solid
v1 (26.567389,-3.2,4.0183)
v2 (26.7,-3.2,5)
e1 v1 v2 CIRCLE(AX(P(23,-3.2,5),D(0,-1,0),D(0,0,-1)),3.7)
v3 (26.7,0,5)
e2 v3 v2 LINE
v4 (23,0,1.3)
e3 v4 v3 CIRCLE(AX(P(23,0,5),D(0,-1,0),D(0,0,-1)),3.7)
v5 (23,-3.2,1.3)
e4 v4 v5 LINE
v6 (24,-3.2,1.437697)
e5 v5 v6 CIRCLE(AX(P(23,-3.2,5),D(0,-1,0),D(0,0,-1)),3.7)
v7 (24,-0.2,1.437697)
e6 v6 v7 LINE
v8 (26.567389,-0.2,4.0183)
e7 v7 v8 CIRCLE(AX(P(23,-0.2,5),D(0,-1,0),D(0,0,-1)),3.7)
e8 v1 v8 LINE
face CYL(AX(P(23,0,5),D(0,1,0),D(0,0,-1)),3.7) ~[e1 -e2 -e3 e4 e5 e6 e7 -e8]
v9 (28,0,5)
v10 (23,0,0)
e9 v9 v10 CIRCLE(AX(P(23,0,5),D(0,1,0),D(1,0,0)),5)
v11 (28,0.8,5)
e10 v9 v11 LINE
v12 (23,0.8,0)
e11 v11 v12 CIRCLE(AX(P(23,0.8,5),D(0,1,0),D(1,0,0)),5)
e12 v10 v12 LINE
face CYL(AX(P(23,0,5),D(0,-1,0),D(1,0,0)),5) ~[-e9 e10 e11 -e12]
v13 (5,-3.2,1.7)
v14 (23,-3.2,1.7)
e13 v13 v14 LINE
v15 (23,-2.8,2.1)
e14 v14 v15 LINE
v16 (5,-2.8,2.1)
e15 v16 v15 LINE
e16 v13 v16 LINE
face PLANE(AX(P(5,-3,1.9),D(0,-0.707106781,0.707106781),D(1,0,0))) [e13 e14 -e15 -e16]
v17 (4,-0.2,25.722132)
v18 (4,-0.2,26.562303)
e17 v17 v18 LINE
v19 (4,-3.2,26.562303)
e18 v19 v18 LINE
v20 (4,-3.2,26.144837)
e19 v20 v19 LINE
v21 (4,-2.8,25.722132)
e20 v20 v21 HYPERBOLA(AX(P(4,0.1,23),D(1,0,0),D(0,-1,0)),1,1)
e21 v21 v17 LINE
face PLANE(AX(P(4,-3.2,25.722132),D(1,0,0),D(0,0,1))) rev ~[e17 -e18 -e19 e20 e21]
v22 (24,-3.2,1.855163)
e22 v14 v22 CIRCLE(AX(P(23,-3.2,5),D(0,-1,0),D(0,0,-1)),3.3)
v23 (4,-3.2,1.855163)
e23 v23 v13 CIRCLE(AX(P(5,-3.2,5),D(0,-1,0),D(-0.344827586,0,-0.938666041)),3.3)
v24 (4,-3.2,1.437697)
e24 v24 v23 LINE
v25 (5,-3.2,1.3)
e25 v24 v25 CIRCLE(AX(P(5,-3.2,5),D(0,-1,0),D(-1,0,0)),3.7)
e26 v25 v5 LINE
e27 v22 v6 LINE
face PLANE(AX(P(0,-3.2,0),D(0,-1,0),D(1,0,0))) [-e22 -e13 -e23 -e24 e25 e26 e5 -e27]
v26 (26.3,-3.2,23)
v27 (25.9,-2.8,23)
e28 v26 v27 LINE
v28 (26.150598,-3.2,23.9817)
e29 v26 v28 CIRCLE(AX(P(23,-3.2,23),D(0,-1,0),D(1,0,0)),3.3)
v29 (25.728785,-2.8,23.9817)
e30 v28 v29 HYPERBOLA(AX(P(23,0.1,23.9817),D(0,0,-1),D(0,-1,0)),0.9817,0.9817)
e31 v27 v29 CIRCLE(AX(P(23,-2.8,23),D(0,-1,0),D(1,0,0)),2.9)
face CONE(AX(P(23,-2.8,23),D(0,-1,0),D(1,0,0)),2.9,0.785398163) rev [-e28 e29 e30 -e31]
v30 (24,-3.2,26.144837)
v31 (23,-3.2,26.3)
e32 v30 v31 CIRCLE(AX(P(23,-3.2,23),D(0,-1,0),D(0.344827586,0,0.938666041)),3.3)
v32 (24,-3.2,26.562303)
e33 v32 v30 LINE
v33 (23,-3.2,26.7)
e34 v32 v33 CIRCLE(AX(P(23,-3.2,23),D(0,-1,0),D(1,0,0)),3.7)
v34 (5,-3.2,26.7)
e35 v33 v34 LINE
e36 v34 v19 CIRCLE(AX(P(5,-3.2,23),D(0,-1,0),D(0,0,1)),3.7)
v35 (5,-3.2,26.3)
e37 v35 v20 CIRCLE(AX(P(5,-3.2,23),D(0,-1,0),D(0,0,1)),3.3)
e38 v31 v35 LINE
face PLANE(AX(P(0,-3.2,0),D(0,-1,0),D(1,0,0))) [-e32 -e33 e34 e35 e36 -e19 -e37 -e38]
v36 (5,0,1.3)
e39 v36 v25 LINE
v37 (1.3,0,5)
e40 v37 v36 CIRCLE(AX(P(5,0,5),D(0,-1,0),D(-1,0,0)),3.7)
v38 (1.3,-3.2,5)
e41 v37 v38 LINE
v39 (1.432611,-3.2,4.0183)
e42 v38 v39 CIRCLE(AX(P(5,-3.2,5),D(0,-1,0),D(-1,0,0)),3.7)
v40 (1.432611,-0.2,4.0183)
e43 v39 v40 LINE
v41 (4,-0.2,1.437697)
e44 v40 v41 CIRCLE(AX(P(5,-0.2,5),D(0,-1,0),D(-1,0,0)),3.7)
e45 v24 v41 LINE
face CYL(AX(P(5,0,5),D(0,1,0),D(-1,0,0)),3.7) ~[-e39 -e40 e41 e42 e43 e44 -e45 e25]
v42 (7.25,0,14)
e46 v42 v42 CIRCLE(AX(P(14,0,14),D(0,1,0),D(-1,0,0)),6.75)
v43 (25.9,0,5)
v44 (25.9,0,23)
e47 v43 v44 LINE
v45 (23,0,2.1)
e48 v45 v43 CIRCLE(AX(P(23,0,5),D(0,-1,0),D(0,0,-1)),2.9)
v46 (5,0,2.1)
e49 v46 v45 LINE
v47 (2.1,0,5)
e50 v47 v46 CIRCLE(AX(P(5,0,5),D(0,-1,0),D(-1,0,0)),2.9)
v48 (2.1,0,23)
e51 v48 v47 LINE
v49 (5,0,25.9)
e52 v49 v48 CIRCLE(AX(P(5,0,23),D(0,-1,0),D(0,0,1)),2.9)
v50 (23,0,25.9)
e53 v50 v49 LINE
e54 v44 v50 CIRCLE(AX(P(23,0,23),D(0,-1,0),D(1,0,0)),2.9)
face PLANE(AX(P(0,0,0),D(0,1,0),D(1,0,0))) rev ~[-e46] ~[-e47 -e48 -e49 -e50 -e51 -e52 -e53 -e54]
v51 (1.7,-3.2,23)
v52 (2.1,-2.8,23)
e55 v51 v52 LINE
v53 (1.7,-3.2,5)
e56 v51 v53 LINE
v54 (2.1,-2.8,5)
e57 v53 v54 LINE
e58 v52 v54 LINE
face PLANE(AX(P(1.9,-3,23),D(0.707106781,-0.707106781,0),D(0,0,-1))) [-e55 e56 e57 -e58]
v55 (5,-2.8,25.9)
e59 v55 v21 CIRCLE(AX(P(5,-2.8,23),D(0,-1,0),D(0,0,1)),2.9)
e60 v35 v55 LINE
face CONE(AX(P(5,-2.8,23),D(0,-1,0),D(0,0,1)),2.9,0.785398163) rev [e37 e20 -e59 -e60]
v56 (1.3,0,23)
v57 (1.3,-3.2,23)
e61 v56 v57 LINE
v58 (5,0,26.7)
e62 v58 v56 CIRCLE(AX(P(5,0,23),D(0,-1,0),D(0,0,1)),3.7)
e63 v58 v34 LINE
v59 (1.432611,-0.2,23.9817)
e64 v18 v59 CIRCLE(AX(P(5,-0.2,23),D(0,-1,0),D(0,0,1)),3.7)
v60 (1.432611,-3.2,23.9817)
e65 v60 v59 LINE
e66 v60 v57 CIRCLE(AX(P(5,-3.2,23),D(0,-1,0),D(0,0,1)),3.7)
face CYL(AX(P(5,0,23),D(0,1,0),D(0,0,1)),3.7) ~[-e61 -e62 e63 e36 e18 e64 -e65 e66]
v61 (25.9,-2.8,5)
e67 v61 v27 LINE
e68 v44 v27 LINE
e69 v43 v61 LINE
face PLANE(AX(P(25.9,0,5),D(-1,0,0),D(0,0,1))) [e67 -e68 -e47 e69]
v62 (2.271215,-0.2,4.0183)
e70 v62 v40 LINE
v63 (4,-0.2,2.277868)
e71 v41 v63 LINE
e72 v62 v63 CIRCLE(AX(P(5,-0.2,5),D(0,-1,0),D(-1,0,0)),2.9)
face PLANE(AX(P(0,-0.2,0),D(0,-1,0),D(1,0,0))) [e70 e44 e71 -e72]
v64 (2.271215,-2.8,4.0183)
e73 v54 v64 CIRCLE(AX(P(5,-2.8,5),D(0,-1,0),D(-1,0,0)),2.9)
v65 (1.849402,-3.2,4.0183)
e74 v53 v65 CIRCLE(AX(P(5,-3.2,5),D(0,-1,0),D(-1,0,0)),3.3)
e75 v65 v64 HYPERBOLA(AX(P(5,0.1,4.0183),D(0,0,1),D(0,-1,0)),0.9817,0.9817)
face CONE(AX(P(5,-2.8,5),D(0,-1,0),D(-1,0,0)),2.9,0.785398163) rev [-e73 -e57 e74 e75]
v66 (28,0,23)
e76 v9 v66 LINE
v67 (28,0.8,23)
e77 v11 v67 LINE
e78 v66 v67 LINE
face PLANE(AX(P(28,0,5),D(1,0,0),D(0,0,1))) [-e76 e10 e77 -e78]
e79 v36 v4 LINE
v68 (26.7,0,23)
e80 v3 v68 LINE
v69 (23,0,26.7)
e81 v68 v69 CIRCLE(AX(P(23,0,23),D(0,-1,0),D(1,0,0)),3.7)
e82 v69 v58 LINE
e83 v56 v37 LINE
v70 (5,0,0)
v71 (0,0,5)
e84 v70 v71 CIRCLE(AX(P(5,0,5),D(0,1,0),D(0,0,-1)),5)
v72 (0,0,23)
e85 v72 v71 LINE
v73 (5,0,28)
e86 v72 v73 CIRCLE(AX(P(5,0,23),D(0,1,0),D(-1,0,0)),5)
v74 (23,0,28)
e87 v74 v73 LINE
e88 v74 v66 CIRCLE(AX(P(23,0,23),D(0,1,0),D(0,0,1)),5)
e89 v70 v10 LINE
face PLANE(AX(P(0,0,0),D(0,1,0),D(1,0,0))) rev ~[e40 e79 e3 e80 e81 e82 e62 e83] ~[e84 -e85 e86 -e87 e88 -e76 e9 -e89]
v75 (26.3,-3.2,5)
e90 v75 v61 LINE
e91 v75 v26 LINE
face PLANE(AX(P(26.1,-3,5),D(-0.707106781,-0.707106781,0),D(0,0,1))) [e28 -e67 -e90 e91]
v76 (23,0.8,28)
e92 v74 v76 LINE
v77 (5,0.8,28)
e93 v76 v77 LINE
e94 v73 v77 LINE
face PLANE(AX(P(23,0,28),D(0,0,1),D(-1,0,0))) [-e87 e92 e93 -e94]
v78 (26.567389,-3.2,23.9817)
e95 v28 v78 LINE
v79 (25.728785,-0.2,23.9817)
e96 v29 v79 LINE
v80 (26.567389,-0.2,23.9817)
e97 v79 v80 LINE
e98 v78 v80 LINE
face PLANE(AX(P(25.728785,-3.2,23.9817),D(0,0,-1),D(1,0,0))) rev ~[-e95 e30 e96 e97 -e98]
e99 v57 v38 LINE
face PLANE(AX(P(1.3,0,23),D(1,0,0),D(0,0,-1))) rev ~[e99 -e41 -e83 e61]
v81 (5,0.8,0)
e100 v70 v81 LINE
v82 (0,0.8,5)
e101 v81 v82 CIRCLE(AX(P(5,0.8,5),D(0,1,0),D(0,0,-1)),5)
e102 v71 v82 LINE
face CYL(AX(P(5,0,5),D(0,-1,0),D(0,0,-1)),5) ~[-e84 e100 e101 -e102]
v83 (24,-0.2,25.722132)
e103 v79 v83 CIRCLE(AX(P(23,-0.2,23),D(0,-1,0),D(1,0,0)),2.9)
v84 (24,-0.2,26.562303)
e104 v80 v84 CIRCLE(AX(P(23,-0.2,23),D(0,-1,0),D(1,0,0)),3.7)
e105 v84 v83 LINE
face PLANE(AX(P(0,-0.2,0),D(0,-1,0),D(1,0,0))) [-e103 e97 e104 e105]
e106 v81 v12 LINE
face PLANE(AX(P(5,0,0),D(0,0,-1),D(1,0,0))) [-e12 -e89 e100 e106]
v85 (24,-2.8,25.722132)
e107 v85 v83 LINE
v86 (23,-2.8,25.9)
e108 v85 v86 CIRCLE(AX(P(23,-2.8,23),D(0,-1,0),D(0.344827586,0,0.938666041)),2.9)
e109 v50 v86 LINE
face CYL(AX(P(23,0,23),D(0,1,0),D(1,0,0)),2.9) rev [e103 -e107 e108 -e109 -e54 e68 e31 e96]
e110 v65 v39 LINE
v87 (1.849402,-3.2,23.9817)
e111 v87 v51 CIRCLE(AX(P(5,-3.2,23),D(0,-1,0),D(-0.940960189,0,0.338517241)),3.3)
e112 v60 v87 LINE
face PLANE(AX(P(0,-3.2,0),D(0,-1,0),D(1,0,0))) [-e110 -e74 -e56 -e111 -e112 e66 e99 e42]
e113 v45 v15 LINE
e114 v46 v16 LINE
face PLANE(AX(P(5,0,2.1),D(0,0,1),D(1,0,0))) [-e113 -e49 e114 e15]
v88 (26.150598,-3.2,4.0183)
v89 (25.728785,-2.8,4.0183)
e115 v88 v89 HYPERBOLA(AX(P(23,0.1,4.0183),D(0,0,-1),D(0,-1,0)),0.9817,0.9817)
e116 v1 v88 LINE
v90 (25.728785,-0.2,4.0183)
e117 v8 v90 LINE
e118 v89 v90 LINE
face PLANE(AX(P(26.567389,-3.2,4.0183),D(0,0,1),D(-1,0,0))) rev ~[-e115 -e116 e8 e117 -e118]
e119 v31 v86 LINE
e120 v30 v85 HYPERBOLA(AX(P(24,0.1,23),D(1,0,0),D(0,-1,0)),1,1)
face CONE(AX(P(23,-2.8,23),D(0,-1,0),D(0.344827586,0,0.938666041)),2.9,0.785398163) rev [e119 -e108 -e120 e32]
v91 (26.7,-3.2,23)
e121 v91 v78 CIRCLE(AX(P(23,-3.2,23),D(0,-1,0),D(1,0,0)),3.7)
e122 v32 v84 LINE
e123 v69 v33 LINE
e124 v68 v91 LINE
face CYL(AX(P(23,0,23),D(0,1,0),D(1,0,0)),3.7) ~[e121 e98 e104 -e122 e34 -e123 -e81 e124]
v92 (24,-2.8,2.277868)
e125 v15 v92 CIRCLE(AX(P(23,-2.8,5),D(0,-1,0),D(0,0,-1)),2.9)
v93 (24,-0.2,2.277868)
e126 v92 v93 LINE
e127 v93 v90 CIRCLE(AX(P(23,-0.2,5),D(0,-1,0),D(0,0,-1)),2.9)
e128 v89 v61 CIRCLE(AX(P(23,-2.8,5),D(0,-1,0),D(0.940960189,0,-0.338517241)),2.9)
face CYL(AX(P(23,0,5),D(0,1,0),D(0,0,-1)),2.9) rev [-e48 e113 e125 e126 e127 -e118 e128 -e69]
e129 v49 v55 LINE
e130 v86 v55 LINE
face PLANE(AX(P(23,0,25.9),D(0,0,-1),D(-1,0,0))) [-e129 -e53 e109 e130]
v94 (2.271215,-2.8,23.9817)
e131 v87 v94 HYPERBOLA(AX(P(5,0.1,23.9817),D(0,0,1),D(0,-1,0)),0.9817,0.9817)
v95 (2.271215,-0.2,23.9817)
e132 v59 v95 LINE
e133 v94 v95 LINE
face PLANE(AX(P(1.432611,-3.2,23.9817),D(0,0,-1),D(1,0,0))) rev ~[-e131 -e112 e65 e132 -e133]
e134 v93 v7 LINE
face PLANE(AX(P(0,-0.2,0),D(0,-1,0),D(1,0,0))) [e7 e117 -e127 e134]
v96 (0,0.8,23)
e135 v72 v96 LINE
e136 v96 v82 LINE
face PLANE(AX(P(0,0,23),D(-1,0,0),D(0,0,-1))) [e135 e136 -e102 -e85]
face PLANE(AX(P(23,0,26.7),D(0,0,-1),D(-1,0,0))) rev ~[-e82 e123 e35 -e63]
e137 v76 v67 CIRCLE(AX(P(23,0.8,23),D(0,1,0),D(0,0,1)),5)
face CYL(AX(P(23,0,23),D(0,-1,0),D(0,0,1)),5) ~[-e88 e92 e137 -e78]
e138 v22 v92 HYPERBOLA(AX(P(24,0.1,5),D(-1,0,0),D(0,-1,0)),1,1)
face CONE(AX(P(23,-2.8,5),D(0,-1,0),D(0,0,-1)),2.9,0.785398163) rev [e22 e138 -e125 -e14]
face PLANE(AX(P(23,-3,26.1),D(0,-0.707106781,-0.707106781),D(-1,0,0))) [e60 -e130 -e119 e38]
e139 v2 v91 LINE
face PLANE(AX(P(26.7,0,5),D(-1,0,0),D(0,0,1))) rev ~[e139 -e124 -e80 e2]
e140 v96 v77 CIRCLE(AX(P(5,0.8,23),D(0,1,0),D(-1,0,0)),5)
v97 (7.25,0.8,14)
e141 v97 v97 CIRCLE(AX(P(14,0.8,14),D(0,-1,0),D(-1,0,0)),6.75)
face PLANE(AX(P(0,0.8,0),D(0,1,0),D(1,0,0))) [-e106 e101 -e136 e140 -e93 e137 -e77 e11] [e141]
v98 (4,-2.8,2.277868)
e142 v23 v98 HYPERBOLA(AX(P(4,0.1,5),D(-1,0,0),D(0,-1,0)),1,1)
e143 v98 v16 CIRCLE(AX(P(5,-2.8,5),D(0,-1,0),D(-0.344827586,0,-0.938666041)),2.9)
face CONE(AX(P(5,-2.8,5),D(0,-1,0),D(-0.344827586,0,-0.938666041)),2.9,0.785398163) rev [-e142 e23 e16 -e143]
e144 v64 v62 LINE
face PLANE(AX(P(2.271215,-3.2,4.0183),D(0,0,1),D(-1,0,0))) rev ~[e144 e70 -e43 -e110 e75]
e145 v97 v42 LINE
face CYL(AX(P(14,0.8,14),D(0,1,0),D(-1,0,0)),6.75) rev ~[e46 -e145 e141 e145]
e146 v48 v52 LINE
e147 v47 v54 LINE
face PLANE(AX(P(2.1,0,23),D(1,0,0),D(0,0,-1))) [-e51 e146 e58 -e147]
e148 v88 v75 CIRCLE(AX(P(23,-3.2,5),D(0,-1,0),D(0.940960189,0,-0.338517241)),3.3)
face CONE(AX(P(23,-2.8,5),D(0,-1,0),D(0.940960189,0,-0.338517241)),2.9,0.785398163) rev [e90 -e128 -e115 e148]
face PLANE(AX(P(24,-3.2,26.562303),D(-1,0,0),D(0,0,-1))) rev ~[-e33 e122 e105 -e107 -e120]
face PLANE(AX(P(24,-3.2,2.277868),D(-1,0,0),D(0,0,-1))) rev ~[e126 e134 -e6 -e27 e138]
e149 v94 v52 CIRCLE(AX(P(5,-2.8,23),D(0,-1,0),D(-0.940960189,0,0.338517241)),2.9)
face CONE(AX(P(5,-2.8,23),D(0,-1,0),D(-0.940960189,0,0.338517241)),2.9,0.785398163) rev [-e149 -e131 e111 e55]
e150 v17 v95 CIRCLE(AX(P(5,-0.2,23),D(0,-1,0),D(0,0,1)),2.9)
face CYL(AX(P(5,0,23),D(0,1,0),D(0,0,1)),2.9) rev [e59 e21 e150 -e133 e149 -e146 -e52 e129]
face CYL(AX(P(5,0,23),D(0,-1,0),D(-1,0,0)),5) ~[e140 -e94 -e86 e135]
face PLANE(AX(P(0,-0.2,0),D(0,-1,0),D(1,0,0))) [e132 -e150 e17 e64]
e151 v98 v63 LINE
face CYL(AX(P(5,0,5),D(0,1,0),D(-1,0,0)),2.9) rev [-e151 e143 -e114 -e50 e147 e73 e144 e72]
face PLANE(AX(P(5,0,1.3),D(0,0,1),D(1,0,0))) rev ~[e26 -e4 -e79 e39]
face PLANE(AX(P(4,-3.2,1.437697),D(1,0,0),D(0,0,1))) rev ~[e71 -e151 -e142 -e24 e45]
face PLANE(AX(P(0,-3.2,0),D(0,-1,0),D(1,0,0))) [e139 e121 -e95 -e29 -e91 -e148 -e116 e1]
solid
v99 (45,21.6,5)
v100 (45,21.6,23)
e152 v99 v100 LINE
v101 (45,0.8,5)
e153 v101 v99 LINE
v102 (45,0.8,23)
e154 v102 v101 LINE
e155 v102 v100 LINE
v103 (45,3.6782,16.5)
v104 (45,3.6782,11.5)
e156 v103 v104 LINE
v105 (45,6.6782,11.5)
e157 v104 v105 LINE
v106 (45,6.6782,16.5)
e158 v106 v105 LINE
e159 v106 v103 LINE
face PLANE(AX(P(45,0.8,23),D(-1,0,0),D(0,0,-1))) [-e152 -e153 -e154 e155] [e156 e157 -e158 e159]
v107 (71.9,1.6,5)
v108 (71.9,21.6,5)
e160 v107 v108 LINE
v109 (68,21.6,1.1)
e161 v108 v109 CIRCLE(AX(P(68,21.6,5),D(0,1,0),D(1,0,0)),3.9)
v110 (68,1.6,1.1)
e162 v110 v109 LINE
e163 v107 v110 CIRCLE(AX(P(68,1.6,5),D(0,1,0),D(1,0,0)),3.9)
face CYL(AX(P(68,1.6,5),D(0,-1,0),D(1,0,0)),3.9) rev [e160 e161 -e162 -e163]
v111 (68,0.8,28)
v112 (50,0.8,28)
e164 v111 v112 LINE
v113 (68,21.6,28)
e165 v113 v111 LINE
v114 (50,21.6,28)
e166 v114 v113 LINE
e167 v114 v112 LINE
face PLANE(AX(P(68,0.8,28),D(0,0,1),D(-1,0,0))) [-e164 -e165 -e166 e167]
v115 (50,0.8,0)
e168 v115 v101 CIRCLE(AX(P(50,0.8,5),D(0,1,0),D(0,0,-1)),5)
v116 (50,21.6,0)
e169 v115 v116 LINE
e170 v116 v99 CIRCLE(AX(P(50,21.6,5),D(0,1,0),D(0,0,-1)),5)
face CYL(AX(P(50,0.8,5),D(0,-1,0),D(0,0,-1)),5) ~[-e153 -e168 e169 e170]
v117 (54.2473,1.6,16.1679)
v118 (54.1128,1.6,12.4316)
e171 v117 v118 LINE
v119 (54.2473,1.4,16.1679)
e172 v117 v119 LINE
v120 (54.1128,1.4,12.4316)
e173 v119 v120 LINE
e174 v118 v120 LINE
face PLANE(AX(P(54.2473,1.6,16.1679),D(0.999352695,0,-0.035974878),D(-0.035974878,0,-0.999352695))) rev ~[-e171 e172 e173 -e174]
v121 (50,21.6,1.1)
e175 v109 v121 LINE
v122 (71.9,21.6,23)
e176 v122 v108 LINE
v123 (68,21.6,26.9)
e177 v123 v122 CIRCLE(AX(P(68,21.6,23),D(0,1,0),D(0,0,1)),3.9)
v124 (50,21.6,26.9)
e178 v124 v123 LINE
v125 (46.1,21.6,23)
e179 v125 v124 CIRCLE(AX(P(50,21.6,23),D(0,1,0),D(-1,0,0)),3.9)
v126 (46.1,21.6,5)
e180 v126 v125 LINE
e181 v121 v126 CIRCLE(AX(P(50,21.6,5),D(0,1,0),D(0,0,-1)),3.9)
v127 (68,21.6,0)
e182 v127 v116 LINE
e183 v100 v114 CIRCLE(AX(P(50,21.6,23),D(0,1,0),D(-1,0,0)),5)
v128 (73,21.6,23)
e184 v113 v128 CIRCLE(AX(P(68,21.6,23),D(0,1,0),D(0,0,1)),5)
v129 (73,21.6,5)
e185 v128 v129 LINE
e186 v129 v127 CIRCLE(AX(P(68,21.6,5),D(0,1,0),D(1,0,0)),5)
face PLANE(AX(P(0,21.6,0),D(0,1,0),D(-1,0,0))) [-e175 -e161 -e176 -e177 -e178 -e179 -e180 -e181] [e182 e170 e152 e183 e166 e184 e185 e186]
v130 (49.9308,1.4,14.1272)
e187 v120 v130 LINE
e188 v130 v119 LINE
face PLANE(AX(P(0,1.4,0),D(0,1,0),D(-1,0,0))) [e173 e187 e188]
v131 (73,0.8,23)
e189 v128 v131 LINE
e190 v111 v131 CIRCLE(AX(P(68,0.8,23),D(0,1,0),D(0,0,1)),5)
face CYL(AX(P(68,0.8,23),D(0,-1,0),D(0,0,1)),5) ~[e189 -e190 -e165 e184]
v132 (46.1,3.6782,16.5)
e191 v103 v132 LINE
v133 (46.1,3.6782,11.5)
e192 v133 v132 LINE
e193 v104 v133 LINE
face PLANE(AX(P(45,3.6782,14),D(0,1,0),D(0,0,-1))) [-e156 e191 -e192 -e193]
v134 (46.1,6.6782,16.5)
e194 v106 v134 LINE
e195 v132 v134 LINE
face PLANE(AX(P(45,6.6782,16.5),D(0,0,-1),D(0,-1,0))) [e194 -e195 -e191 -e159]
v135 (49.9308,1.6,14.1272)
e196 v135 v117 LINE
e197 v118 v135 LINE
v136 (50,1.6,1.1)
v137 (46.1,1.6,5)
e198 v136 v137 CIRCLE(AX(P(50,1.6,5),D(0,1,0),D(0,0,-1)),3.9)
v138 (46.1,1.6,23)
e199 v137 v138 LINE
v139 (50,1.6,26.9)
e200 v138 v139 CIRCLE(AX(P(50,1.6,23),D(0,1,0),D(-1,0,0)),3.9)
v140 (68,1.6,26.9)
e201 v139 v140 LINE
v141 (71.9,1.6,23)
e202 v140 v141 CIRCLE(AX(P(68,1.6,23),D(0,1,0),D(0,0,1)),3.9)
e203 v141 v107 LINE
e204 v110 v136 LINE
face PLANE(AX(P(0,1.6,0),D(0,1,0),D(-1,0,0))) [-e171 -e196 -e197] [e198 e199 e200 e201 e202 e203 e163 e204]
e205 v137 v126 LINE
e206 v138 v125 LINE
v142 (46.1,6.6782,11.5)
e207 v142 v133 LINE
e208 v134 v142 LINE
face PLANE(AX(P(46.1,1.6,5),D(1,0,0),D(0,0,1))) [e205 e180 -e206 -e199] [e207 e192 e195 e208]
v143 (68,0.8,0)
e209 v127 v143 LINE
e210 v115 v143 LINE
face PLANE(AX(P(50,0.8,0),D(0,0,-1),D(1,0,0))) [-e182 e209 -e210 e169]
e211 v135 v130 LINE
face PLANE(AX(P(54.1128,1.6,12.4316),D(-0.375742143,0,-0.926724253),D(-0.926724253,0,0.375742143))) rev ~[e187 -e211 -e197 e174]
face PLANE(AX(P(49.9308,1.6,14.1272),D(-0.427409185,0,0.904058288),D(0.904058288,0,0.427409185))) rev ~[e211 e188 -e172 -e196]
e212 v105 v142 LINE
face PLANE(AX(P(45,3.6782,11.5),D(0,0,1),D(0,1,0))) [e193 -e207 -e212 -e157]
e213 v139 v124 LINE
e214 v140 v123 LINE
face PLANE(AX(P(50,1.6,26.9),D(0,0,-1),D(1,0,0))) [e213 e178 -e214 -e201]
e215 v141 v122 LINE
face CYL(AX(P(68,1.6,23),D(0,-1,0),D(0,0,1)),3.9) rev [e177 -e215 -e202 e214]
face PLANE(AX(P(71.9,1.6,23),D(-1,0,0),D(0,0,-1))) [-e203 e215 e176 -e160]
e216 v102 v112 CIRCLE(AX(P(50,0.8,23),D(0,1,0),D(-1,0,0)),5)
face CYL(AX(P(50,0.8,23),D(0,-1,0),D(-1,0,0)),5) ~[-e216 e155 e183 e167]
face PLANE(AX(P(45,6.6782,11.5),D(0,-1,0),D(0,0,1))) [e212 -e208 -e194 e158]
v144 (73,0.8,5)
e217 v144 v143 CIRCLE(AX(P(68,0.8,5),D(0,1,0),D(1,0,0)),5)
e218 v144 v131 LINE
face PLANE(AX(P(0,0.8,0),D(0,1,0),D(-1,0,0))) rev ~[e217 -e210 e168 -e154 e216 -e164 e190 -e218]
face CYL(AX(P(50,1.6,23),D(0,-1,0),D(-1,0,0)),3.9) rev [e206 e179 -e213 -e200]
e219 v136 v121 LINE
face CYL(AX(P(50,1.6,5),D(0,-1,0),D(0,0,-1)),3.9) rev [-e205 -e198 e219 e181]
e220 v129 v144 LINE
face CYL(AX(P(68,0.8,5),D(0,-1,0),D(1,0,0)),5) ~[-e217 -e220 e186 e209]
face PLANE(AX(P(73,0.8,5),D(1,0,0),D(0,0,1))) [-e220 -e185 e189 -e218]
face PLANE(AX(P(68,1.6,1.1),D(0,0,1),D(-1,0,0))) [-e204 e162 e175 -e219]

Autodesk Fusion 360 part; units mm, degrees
sketch "Sketch1" plane through (0, 0, 0) normal (0, 1, 0) x (1, 0, 0)
  line L0 (5, 0) -> (23, 0)
  line L1 (28, -5) -> (28, -23)
  line L2 (23, -28) -> (5, -28)
  line L3 (0, -23) -> (0, -5)
  arc A0 (5, 0) -> (0, -5) centre (5, -5) ccw
  arc A1 (28, -5) -> (23, 0) centre (23, -5) ccw
  arc A2 (23, -28) -> (28, -23) centre (23, -23) ccw
  arc A3 (0, -23) -> (5, -28) centre (5, -23) ccw
  point P0 (28, 0)
  point P1 (0, -28)
  dimension "d1" = 28
  dimension "d2" = 28
  dimension "d3" = 5
extrude "Extrude1" add sketch "Sketch1" along normal blind 0.8 makes body 1
sketch "Sketch2" plane through (0, 0.8, 0) normal (0, 1, 0) x (-1, 0, 0)
  arc A0 (-5, 0) -> (0, 5) centre (-5, 5) ccw
  line L0 (0, 5) -> (0, 23)
  arc A1 (0, 23) -> (-5, 28) centre (-5, 23) ccw
  line L1 (-5, 28) -> (-23, 28)
  arc A2 (-23, 28) -> (-28, 23) centre (-23, 23) ccw
  line L2 (-28, 23) -> (-28, 5)
  arc A3 (-28, 5) -> (-23, 0) centre (-23, 5) ccw
  line L3 (-23, 0) -> (-5, 0)
  line L4 (0, 14) -> (-28, 14)
  line L5 (-14, 0) -> (-14, 28)
  circle A4 centre (-14, 14) radius 6.75
  dimension "d6" = 13.5
extrude "Extrude2" cut sketch "Sketch2" against normal blind 10 contours L4 L5 A4 | L4 L5 A4 | L4 L5 A4 | L4 L5 A4 bodies 1
sketch "Sketch3" plane through (0, 0, 0) normal (0, -1, 0) x (1, 0, 0)
  circle A0 centre (14, 14) radius 6.75
  arc A1 (0, 5) -> (5, 0) centre (5, 5) ccw
  line L0 (5, 0) -> (23, 0)
  arc A2 (23, 0) -> (28, 5) centre (23, 5) ccw
  line L1 (28, 5) -> (28, 23)
  arc A3 (28, 23) -> (23, 28) centre (23, 23) ccw
  line L2 (23, 28) -> (5, 28)
  arc A4 (5, 28) -> (0, 23) centre (5, 23) ccw
  line L3 (0, 23) -> (0, 5)
  arc A5 (5, 26.7) -> (1.3, 23) centre (5, 23) ccw
  line L4 (1.3, 23) -> (1.3, 5)
  arc A6 (1.3, 5) -> (5, 1.3) centre (5, 5) ccw
  line L5 (5, 1.3) -> (23, 1.3)
  arc A7 (23, 1.3) -> (26.7, 5) centre (23, 5) ccw
  line L6 (26.7, 5) -> (26.7, 23)
  arc A8 (26.7, 23) -> (23, 26.7) centre (23, 23) ccw
  line L7 (23, 26.7) -> (5, 26.7)
  arc A9 (5, 25.9) -> (2.1, 23) centre (5, 23) ccw
  line L8 (2.1, 23) -> (2.1, 5)
  arc A10 (2.1, 5) -> (5, 2.1) centre (5, 5) ccw
  line L9 (5, 2.1) -> (23, 2.1)
  arc A11 (23, 2.1) -> (25.9, 5) centre (23, 5) ccw
  line L10 (25.9, 5) -> (25.9, 23)
  arc A12 (25.9, 23) -> (23, 25.9) centre (23, 23) ccw
  line L11 (23, 25.9) -> (5, 25.9)
  dimension "d9" = -1.3
  dimension "d10" = -2.1
extrude "Extrude3" add sketch "Sketch3" along normal blind 3.2 contours A5 L4 A6 L5 A7 L6 A8 L7 bodies 1
sketch "Sketch4" plane through (0, 0.8, 0) normal (0, 1, 0) x (-1, 0, 0)
  circle A0 centre (-14, 14) radius 6.75
  arc A1 (-5, 0) -> (0, 5) centre (-5, 5) ccw
  line L0 (0, 5) -> (0, 23)
  arc A2 (0, 23) -> (-5, 28) centre (-5, 23) ccw
  line L1 (-5, 28) -> (-23, 28)
  arc A3 (-23, 28) -> (-28, 23) centre (-23, 23) ccw
  line L2 (-28, 23) -> (-28, 5)
  arc A4 (-28, 5) -> (-23, 0) centre (-23, 5) ccw
  line L3 (-23, 0) -> (-5, 0)
  line L4 (-50, 0) -> (-68, 0)
  line L5 (-73, 5) -> (-73, 23)
  line L6 (-68, 28) -> (-50, 28)
  line L7 (-45, 23) -> (-45, 5)
  arc A5 (-50, 0) -> (-45, 5) centre (-50, 5) ccw
  arc A6 (-73, 5) -> (-68, 0) centre (-68, 5) ccw
  arc A7 (-68, 28) -> (-73, 23) centre (-68, 23) ccw
  arc A8 (-45, 23) -> (-50, 28) centre (-50, 23) ccw
  point P0 (-45, 0)
  point P1 (-73, 0)
  point P2 (-45, 28)
  dimension "d13" = 28
  dimension "d14" = 28
  dimension "d15" = 5
extrude "Extrude4" add sketch "Sketch4" along normal blind 0.8 separate body contours L4 L5 L6 L7 A5 A6 A7 A8 makes body 2
sketch "Sketch5" plane through (0, 1.6, 0) normal (0, 1, 0) x (-1, 0, 0)
  arc A0 (-50, 0) -> (-45, 5) centre (-50, 5) ccw
  line L0 (-45, 5) -> (-45, 23)
  arc A1 (-45, 23) -> (-50, 28) centre (-50, 23) ccw
  line L1 (-50, 28) -> (-68, 28)
  arc A2 (-68, 28) -> (-73, 23) centre (-68, 23) ccw
  line L2 (-73, 23) -> (-73, 5)
  arc A3 (-73, 5) -> (-68, 0) centre (-68, 5) ccw
  line L3 (-68, 0) -> (-50, 0)
  arc A4 (-46.1, 23) -> (-50, 26.9) centre (-50, 23) ccw
  line L4 (-50, 26.9) -> (-68, 26.9)
  arc A5 (-68, 26.9) -> (-71.9, 23) centre (-68, 23) ccw
  line L5 (-71.9, 23) -> (-71.9, 5)
  arc A6 (-71.9, 5) -> (-68, 1.1) centre (-68, 5) ccw
  line L6 (-68, 1.1) -> (-50, 1.1)
  arc A7 (-50, 1.1) -> (-46.1, 5) centre (-50, 5) ccw
  line L7 (-46.1, 5) -> (-46.1, 23)
  dimension "d18" = -1.1
extrude "Extrude5" add sketch "Sketch5" along normal blind 20 bodies 2
sketch "Sketch6" plane through (0, -3.2, 0) normal (0, -1, 0) x (1, 0, 0)
  line L0 (5, 25.9) -> (23, 25.9)
  arc A0 (25.9, 23) -> (23, 25.9) centre (23, 23) ccw
  line L1 (25.9, 23) -> (25.9, 5)
  arc A1 (23, 2.1) -> (25.9, 5) centre (23, 5) ccw
  line L2 (23, 2.1) -> (5, 2.1)
  arc A2 (2.1, 5) -> (5, 2.1) centre (5, 5) ccw
  line L3 (2.1, 5) -> (2.1, 23)
  arc A3 (5, 25.9) -> (2.1, 23) centre (5, 23) ccw
  line L4 (23, 26.7) -> (5, 26.7)
  arc A4 (5, 26.7) -> (1.3, 23) centre (5, 23) ccw
  line L5 (1.3, 23) -> (1.3, 5)
  arc A5 (1.3, 5) -> (5, 1.3) centre (5, 5) ccw
  line L6 (5, 1.3) -> (23, 1.3)
  arc A6 (23, 1.3) -> (26.7, 5) centre (23, 5) ccw
  line L7 (26.7, 5) -> (26.7, 23)
  arc A7 (26.7, 23) -> (23, 26.7) centre (23, 23) ccw
  line L8 (14, 25.9) -> (14, 1.3)
  line L9 (2.1, 14) -> (26.7, 14)
  line L10 (28.4207, 4.0183) -> (-0.4207, 4.0183)
  line L11 (-0.4207, 4.0183) -> (-0.4207, 23.9817)
  line L12 (-0.4207, 23.9817) -> (28.4207, 23.9817)
  line L13 (28.4207, 23.9817) -> (28.4207, 4.0183)
  line L14 (28.4207, 4.0183) -> (-0.4207, 23.9817) construction
  line L15 (-0.4207, 4.0183) -> (28.4207, 23.9817) construction
  line L16 (24, 1) -> (4, 1)
  line L17 (4, 1) -> (4, 27)
  line L18 (4, 27) -> (24, 27)
  line L19 (24, 27) -> (24, 1)
  line L20 (24, 1) -> (4, 27) construction
  line L21 (4, 1) -> (24, 27) construction
  point P0 (14, 14)
  point P1 (14, 14)
extrude "Extrude6" cut sketch "Sketch6" against normal blind 3 contours A3 A4 L12 L17 | A0 A7 L12 L19 | A2 A5 L10 L17 | A1 A6 L10 L19 bodies 1
sketch "Sketch7" plane through (45, 0, 0) normal (-1, 0, 0) x (0, 0, 1)
  line L0 (5, 0.8) -> (23, 0.8)
  line L1 (23, 0.8) -> (23, 21.6)
  line L2 (23, 21.6) -> (5, 21.6)
  line L3 (5, 21.6) -> (5, 0.8)
  line L4 (14, 21.6) -> (14, 0.8)
  line L5 (16.5, 3.6782) -> (11.5, 3.6782)
  line L6 (11.5, 3.6782) -> (11.5, 6.6782)
  line L7 (11.5, 6.6782) -> (16.5, 6.6782)
  line L8 (16.5, 6.6782) -> (16.5, 3.6782)
  line L9 (16.5, 3.6782) -> (11.5, 6.6782) construction
  line L10 (11.5, 3.6782) -> (16.5, 6.6782) construction
  point P0 (14, 5.1782)
  dimension "d23" = 5
  dimension "d24" = 3
extrude "Extrude7" cut sketch "Sketch7" against normal blind 4 contours L4 L5 L6 L7 | L4 L5 L7 L8 bodies 2
sketch "Sketch8" plane through (0, 1.6, 0) normal (0, 1, 0) x (-1, 0, 0)
  arc A0 (-46.1, 23) -> (-50, 26.9) centre (-50, 23) ccw
  line L0 (-50, 26.9) -> (-68, 26.9)
  arc A1 (-68, 26.9) -> (-71.9, 23) centre (-68, 23) ccw
  line L1 (-71.9, 23) -> (-71.9, 5)
  arc A2 (-71.9, 5) -> (-68, 1.1) centre (-68, 5) ccw
  line L2 (-68, 1.1) -> (-50, 1.1)
  arc A3 (-50, 1.1) -> (-46.1, 5) centre (-50, 5) ccw
  line L3 (-46.1, 5) -> (-46.1, 23)
  line L4 (-49.9308, 14.1272) -> (-54.2473, 16.1679)
  line L5 (-54.2473, 16.1679) -> (-54.1128, 12.4316)
  line L6 (-54.1128, 12.4316) -> (-49.9308, 14.1272)
  point P0 (-52.32, 13.6169)
extrude "Extrude8" cut sketch "Sketch8" against normal blind 0.2 contours L4 L5 L6 bodies 2
chamfer "Chamfer1" distance 0.4 angle 45 12 edges at (14, -3.2, 25.9) (23.5078, -3.2, 25.8552) (4.4922, -3.2, 25.8552) (2.1, -3.2, 14) (2.1431, -3.2, 23.4983) (2.1431, -3.2, 4.5017) (25.9, -3.2, 14) (25.8569, -3.2, 4.5017) (25.8569, -3.2, 23.4983) (14, -3.2, 2.1) (4.4922, -3.2, 2.1448) (23.5078, -3.2, 2.1448) on bodies 1
copy_body "Body->Comp1" bodies 1 removing the originals makes body 3 in component "Penutup atas"
copy_body "Body->Comp2" bodies 2 removing the originals makes body 4 in component "Body bawah"
component "Penutup atas" placed x (1, 0, 0) y (0, 1, 0) z (0, 0, 1) at (0, 0, 0)
component "Body bawah" placed x (1, 0, 0) y (0, 1, 0) z (0, 0, 1) at (0, 0, 0)
equation "d10 = -1.3 mm - 0.8 mm"
equation "d18 = -1 mm - 0.1 mm"
